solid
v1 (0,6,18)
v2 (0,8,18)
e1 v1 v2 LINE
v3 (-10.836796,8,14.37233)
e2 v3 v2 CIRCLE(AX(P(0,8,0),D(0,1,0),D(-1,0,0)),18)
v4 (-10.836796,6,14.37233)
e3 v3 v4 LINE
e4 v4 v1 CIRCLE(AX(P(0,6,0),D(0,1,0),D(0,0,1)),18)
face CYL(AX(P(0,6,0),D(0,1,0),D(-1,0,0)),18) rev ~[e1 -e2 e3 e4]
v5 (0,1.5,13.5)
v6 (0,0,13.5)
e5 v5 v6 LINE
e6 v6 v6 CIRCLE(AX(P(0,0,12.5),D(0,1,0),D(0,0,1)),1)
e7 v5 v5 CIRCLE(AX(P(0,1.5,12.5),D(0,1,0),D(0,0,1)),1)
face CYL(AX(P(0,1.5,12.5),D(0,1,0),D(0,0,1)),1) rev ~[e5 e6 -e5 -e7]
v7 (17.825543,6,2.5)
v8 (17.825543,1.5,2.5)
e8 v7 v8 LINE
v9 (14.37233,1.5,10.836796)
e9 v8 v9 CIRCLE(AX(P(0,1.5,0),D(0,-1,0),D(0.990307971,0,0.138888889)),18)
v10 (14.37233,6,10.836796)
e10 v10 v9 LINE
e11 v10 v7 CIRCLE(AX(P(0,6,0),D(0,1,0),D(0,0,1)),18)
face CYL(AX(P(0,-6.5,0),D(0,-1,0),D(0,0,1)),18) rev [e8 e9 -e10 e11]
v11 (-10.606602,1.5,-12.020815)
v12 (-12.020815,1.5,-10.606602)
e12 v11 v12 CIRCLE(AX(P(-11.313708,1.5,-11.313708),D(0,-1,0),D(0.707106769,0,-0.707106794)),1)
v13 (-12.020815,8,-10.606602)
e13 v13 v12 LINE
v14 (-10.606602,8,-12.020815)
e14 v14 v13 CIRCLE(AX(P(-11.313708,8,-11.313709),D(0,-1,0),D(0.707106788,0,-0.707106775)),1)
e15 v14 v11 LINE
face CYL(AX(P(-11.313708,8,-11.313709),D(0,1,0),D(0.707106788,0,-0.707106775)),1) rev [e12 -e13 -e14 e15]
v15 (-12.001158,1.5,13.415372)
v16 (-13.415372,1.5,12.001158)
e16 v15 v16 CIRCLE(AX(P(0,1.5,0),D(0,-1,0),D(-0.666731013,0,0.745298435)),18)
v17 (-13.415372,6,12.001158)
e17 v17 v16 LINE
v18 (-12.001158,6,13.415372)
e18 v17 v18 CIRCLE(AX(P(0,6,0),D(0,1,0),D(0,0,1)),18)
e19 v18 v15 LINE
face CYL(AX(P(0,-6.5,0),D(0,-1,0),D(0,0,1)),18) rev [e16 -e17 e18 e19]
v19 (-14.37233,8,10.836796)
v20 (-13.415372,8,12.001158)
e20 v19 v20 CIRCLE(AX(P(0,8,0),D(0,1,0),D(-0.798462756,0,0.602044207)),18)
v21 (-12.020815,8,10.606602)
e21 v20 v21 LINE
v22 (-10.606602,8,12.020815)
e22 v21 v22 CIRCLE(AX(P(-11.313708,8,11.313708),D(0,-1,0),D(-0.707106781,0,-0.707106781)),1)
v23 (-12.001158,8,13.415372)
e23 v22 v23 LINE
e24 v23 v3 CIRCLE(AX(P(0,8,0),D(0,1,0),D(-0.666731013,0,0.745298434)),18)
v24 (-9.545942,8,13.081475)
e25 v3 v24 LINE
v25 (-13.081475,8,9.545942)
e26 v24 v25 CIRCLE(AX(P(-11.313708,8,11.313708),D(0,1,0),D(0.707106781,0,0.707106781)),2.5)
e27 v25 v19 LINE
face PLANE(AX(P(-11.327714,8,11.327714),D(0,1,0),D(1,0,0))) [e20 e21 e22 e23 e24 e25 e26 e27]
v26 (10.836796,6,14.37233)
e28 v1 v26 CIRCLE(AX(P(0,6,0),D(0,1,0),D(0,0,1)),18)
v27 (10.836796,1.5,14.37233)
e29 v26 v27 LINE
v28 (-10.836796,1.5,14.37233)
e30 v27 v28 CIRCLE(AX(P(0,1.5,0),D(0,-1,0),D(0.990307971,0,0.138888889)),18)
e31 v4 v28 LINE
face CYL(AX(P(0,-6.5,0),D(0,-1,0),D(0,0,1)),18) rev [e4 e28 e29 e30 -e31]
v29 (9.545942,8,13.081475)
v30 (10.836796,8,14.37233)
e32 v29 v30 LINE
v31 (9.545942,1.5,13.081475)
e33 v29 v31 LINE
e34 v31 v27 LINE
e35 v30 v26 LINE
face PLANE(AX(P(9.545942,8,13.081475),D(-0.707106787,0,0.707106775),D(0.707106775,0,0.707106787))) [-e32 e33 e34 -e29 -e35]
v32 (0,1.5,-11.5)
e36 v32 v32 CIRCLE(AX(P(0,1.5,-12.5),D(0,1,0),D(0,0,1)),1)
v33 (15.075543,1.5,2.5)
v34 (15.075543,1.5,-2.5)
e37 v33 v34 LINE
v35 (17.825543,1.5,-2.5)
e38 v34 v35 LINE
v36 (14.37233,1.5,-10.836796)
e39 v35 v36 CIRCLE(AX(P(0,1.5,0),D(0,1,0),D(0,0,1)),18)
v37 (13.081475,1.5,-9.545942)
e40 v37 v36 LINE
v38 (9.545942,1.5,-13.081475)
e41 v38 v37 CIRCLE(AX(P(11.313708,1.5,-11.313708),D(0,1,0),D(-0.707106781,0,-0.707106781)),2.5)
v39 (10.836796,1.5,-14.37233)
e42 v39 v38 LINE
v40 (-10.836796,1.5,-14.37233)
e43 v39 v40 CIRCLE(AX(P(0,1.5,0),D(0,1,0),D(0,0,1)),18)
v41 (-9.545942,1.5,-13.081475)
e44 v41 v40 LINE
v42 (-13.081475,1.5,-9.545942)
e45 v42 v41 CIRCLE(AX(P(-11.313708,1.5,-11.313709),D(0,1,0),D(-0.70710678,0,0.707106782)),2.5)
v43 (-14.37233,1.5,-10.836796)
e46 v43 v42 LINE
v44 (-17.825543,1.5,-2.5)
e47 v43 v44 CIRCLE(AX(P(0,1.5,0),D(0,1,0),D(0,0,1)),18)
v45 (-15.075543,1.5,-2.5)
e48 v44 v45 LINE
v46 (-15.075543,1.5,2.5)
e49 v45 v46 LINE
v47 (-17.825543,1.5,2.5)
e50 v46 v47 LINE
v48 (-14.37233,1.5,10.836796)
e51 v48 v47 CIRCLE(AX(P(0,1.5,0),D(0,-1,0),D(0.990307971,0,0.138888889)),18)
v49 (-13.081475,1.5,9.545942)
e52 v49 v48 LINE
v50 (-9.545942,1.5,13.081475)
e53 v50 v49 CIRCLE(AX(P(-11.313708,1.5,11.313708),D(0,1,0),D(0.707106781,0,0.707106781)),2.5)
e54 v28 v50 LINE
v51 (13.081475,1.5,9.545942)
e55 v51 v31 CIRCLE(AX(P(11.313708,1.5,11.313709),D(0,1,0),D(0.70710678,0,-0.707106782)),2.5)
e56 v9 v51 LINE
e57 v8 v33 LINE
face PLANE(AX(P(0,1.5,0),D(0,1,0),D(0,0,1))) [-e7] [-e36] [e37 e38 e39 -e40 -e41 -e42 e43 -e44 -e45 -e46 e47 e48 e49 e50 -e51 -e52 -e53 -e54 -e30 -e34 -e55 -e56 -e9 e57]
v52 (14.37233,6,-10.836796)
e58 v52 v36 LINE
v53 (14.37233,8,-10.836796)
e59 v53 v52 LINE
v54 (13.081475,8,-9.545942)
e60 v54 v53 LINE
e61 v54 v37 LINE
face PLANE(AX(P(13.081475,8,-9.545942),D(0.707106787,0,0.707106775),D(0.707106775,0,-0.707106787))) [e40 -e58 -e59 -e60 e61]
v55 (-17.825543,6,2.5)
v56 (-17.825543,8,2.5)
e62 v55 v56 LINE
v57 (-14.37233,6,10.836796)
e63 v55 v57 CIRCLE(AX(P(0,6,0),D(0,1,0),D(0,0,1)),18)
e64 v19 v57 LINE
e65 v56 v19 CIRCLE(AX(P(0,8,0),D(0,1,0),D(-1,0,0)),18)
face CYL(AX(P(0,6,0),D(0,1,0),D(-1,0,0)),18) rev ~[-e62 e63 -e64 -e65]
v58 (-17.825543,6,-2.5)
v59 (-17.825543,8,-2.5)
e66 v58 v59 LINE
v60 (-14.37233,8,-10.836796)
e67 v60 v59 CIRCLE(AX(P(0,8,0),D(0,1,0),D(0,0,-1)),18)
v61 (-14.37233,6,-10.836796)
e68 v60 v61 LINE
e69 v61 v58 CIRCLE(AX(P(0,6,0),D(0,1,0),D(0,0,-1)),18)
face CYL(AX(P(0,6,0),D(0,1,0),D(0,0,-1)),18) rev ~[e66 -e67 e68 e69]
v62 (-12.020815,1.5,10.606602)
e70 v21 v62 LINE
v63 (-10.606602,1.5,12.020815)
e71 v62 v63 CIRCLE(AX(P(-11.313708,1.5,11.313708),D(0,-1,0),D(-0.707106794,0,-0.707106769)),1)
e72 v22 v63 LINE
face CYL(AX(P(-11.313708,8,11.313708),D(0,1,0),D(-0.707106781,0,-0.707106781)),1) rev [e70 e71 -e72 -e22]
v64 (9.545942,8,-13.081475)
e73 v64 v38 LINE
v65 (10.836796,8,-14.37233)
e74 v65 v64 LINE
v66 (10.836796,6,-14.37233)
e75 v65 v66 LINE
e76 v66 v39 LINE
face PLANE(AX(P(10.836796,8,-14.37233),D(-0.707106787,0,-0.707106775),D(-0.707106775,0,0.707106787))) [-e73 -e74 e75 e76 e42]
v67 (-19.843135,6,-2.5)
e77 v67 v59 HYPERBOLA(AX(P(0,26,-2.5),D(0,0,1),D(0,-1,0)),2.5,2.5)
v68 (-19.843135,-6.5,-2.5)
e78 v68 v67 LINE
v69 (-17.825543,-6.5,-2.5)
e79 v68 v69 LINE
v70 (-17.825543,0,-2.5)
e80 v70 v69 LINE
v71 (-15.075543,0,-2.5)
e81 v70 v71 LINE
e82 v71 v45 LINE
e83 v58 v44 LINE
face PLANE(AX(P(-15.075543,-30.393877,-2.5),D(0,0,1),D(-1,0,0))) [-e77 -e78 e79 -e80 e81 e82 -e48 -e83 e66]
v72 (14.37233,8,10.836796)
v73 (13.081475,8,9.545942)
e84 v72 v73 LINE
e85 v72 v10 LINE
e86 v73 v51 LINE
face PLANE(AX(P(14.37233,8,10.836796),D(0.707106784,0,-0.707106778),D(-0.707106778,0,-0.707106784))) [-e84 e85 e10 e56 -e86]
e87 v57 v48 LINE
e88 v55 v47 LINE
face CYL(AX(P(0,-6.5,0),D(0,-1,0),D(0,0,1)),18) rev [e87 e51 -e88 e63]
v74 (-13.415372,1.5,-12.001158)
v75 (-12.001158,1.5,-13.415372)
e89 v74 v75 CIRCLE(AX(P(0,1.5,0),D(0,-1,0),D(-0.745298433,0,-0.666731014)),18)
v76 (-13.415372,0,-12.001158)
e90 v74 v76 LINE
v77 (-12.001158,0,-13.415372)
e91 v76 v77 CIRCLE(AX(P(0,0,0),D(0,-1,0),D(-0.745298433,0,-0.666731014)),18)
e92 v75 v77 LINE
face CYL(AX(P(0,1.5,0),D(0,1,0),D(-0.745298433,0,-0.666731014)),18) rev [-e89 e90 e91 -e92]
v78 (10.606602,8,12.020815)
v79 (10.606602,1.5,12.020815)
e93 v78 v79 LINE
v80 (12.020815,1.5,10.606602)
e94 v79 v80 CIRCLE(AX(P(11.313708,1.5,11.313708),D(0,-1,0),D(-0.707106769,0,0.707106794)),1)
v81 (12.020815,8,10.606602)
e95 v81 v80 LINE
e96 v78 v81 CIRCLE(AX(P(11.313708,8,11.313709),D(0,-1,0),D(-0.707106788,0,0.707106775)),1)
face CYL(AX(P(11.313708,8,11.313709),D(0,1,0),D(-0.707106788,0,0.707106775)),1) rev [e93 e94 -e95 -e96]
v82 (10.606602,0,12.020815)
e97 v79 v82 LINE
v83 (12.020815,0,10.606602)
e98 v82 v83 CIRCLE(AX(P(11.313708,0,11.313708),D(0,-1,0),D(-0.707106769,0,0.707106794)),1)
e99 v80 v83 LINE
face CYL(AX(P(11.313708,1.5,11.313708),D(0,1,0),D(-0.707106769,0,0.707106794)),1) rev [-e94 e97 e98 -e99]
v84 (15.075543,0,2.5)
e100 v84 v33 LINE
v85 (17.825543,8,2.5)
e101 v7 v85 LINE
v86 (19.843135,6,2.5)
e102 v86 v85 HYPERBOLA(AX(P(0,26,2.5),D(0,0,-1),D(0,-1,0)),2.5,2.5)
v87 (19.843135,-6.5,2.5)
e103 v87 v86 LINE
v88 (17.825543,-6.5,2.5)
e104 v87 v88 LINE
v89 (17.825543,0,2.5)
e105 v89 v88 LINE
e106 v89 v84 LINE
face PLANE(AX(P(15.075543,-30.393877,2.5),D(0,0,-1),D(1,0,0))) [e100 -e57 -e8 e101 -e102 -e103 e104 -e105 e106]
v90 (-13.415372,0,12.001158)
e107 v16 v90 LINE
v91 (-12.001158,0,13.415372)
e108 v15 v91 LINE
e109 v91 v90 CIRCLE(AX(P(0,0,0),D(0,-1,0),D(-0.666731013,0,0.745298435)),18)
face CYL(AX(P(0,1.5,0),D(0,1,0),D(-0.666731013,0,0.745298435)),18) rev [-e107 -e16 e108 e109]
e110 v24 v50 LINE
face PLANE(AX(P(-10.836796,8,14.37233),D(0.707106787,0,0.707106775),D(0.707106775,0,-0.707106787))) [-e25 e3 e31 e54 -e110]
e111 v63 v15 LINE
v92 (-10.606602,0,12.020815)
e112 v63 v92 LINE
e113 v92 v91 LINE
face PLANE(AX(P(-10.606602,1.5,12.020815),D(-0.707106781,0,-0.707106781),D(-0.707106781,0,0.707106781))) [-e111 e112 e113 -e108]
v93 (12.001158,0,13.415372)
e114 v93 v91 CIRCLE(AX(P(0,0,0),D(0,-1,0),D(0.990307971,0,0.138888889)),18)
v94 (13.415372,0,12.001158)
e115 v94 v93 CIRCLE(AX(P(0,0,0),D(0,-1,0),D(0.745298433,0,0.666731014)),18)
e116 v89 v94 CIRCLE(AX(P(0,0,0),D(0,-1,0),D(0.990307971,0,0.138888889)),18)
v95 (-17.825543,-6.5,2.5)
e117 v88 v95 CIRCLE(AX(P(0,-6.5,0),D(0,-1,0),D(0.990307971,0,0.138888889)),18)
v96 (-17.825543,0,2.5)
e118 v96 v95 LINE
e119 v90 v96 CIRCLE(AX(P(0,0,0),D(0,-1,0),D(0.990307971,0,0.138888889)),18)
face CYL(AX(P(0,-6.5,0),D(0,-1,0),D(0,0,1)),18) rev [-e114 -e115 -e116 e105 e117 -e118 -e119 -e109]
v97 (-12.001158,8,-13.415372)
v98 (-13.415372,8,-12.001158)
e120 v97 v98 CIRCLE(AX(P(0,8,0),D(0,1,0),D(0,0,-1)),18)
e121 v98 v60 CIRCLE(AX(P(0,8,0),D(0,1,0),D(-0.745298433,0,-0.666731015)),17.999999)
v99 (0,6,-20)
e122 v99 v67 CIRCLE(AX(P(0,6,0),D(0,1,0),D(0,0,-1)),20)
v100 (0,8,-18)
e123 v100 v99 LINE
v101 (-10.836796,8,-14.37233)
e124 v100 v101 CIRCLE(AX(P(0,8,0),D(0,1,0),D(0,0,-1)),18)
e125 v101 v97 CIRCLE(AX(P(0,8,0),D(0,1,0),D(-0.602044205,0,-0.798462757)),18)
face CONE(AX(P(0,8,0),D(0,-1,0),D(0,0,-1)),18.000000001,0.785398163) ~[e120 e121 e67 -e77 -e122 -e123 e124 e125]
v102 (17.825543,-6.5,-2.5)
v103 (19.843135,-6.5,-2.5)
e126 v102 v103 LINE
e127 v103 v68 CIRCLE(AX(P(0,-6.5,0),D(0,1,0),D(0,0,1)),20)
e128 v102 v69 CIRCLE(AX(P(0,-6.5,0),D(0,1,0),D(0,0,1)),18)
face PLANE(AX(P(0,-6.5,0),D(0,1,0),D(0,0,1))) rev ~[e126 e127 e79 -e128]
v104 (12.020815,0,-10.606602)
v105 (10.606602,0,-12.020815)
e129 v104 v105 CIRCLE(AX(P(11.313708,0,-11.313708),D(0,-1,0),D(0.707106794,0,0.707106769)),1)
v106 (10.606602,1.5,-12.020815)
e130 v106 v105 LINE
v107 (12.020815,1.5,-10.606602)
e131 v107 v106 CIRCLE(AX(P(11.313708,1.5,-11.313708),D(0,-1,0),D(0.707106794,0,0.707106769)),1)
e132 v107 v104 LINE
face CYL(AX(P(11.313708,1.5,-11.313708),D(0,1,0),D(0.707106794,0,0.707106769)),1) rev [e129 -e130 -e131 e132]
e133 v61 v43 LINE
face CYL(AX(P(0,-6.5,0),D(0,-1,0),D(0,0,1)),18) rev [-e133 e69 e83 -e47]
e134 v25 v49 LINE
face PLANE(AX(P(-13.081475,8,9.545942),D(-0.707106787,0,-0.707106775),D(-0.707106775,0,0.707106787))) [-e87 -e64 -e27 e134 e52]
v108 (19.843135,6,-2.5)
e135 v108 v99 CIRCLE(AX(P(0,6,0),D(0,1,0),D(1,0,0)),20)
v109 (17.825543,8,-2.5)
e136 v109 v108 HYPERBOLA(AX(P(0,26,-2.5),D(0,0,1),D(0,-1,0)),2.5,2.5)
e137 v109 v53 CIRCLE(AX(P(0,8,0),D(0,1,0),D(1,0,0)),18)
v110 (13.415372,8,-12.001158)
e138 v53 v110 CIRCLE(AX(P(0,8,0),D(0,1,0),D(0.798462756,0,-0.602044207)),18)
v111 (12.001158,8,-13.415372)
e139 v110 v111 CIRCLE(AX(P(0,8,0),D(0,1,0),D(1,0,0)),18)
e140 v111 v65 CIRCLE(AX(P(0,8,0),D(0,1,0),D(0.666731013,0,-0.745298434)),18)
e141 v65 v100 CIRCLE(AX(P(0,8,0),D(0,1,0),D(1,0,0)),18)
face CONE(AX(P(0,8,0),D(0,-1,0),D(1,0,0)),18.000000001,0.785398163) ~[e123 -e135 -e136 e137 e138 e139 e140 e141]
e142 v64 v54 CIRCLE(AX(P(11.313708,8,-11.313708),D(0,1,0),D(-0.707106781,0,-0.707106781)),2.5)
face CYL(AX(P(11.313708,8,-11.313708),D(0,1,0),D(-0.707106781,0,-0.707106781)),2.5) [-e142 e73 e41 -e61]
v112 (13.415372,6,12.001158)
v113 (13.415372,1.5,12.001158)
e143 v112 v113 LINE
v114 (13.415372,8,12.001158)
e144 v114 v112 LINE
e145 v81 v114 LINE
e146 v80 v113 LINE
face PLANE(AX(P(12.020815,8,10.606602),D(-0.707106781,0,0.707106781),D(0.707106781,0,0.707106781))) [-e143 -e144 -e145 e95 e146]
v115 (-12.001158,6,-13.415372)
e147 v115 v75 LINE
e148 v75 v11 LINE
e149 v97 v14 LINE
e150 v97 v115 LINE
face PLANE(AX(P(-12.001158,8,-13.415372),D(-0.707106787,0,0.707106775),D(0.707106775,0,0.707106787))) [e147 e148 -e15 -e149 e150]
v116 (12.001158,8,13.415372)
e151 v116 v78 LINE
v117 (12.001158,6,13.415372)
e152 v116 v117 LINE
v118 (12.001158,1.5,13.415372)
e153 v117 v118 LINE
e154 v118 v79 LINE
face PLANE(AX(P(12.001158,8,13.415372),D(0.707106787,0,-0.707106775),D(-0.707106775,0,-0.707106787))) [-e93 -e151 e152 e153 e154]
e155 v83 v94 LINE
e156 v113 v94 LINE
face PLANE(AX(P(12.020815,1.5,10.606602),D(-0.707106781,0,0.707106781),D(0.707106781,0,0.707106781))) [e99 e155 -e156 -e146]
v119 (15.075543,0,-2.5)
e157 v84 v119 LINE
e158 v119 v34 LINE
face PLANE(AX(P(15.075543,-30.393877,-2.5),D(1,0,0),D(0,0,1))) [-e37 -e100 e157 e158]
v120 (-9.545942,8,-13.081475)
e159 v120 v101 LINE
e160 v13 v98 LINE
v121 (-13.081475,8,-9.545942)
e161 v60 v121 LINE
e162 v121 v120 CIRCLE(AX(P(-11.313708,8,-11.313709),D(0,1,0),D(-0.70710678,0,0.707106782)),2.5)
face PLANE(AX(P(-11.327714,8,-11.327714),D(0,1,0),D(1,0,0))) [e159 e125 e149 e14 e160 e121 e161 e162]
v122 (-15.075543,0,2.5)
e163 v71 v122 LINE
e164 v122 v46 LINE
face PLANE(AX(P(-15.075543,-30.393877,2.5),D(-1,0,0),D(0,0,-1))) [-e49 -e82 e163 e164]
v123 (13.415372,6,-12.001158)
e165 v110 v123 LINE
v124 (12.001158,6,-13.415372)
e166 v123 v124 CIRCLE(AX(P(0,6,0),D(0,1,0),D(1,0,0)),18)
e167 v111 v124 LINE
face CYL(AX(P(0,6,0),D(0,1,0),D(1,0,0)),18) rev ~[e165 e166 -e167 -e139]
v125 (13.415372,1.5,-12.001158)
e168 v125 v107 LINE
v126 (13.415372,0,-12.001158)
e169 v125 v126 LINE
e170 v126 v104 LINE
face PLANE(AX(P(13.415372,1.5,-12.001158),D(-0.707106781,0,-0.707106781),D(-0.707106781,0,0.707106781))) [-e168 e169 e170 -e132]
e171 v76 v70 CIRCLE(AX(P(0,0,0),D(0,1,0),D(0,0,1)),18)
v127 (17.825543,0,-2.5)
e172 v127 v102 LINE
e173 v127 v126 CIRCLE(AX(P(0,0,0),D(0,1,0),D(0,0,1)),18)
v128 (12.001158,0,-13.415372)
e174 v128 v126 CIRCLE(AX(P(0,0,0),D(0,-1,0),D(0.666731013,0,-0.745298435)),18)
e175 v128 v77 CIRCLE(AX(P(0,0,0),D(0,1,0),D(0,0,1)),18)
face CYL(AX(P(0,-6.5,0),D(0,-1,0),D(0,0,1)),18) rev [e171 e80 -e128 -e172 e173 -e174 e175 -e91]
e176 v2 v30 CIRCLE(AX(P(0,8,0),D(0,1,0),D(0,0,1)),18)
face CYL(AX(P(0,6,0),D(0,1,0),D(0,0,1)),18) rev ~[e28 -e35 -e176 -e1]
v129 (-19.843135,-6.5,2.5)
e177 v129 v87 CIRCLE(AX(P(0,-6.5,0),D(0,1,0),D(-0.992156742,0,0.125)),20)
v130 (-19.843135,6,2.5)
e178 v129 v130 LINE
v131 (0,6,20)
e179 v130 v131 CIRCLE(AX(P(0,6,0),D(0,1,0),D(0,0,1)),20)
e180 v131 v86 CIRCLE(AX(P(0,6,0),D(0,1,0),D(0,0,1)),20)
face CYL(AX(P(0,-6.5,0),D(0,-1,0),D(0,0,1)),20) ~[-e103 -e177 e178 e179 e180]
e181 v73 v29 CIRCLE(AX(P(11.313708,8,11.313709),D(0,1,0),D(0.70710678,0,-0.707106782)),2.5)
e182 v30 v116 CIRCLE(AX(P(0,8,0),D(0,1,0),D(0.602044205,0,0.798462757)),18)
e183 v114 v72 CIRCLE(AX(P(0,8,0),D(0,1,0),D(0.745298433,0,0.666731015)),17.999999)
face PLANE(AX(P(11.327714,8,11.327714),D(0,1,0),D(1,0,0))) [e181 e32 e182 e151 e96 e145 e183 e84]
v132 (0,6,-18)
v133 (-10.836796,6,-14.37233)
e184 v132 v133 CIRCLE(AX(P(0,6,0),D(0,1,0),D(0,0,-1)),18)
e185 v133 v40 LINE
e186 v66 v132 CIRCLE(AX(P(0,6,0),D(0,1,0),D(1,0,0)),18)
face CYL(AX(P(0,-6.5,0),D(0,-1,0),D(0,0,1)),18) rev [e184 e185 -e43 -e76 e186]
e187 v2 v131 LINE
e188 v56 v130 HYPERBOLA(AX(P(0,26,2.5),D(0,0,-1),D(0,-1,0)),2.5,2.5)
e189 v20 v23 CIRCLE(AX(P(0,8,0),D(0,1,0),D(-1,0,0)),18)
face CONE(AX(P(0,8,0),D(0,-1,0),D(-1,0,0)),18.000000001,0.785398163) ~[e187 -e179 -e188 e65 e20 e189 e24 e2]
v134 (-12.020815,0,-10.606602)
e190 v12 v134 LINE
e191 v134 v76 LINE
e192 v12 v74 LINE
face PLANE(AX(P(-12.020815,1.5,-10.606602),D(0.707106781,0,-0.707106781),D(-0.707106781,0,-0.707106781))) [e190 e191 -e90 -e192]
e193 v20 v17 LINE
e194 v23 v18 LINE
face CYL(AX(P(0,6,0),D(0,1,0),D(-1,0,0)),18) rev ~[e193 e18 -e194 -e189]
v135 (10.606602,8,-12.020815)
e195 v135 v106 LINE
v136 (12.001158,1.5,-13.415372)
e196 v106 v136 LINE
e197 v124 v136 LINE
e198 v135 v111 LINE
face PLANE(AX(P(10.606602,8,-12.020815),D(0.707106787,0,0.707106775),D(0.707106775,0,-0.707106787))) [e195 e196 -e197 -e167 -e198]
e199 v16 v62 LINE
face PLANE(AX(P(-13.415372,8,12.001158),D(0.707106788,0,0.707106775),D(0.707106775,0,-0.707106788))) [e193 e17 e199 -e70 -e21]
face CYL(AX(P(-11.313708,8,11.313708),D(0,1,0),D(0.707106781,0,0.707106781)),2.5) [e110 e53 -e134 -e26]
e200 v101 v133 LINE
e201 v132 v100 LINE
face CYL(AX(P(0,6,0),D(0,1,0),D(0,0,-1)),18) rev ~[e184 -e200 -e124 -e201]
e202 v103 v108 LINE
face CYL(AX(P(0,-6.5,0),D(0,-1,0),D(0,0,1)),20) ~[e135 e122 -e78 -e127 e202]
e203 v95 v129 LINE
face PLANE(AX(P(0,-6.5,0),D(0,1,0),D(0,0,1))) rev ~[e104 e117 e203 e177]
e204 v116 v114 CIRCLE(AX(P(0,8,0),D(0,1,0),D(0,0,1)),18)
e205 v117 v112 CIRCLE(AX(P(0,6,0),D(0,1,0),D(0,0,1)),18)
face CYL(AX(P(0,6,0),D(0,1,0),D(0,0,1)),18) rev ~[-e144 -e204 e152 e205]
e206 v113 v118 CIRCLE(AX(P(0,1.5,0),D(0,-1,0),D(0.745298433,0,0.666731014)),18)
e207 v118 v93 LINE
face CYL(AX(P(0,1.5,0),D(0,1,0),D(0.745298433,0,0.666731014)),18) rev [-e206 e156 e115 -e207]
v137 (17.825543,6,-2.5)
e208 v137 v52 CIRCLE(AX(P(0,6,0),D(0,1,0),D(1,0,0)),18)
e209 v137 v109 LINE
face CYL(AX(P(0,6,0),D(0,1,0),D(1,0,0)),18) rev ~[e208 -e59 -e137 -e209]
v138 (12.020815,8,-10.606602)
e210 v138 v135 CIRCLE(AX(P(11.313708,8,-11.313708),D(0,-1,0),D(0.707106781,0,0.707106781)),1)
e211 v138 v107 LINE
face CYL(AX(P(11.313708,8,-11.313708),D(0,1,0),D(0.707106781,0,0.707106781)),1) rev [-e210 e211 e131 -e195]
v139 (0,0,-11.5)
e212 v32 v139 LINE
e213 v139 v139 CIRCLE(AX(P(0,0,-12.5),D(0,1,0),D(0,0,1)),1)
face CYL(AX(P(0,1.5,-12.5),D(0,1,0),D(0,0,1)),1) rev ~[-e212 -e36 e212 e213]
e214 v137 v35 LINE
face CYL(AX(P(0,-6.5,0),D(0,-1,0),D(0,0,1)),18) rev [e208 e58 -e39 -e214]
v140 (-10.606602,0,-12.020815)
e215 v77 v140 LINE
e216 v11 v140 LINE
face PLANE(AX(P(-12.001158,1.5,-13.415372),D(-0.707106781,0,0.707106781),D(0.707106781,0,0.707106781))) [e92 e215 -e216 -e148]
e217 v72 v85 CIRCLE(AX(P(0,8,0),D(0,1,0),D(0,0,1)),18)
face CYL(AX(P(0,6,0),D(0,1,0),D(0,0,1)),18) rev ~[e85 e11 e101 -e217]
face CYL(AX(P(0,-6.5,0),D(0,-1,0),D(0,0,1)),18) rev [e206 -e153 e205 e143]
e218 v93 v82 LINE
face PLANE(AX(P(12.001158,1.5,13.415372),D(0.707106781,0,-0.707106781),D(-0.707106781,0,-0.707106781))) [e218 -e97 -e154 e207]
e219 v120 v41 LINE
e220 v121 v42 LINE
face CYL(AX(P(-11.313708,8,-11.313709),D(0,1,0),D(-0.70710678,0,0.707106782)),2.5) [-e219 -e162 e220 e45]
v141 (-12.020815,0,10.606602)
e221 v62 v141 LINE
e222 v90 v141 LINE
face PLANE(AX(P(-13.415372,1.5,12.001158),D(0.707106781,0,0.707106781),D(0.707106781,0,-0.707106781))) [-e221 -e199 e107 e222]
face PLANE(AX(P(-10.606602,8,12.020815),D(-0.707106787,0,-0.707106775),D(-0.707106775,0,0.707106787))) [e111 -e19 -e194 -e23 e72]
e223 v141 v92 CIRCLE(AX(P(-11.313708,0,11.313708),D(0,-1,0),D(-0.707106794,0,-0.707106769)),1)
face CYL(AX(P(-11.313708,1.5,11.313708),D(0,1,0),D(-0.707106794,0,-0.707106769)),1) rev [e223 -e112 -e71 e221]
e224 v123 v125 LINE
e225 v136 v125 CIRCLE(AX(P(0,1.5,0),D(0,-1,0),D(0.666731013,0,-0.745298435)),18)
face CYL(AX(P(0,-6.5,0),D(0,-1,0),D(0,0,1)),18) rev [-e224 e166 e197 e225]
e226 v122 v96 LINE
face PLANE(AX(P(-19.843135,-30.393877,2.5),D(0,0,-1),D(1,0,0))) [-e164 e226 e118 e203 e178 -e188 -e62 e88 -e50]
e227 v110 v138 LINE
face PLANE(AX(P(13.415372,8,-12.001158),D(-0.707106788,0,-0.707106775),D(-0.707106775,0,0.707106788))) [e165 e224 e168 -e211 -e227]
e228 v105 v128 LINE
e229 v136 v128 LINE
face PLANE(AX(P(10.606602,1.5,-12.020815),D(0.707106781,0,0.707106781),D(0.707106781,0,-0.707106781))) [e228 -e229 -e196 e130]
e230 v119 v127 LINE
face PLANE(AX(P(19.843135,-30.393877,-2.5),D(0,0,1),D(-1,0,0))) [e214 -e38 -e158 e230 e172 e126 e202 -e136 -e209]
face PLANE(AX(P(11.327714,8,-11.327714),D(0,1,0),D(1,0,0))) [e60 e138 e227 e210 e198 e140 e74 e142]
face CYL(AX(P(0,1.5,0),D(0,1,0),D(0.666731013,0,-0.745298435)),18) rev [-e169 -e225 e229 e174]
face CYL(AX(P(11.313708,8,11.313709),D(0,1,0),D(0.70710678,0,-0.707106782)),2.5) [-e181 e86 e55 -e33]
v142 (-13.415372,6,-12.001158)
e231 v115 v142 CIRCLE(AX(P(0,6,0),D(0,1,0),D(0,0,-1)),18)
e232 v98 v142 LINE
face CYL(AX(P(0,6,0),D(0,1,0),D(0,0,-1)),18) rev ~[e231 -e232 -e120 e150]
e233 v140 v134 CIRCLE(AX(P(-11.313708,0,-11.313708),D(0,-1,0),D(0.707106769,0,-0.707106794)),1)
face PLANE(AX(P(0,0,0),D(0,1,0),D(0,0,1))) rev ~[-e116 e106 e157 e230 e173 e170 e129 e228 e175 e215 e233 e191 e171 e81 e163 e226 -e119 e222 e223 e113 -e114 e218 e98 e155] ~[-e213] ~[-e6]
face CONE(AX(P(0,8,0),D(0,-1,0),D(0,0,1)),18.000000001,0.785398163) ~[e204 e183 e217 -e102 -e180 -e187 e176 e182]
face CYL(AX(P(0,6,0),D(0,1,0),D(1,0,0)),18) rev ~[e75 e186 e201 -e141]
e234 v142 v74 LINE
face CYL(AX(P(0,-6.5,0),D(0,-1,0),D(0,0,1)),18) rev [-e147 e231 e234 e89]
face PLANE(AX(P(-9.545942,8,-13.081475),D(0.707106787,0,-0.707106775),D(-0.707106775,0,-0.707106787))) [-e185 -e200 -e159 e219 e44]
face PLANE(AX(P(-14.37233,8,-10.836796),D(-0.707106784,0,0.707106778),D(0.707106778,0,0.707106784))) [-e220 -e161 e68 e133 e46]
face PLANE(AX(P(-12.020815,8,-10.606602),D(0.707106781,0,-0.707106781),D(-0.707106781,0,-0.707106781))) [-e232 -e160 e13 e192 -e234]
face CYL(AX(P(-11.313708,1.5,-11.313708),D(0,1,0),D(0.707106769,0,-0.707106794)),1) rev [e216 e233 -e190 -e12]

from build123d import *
from build123d.topology import SkipClean

# Parameters (mm, degrees)
SKETCH_1_R               = 18
EXTRUDE_1_DEPTH          = 1.5
EXTRUDE_2_DEPTH          = 6
EXTRUDE_2_DEPTH_BACK     = 6.5
SKETCH_2_R               = 20
SKETCH_2_R_2             = 18
CUT_EXTRUDE_START        = 1.5
SKETCH_6_R               = 1
CUT_EXTRUDE_4_DEPTH      = 8
CUT_EXTRUDE_5_DEPTH      = 30.393876913
CUT_EXTRUDE_5_DEPTH_BACK = 30.393876913
CUT_EXTRUDE_6_DEPTH      = 1.5
EXTRUDE_START            = 8
EXTRUDE_3_DEPTH          = 6.5


with BuildPart() as part:
    # 草图1 → 凸台-拉伸1 (new body)
    with BuildSketch(Plane(origin=(0, 0, 0), x_dir=(1, 0, 0), z_dir=(0, 1, 0))):
        with Locations(Location((0, 0, 0), (0, 0, 270))):
            Circle(SKETCH_1_R)
    extrude(amount=EXTRUDE_1_DEPTH)

    # 草图2 → 凸台-拉伸2 (add, two sides: drawn at the far end of the back side and taken through both)
    with BuildSketch(Plane(origin=(0, 0, 0), x_dir=(1, 0, 0), z_dir=(0, 1, 0)).offset(-EXTRUDE_2_DEPTH_BACK)):
        with Locations(Location((0, 0, 0), (0, 0, 270))):
            Circle(SKETCH_2_R)
        with Locations(Location((0, 0, 0), (0, 0, 270))):
            Circle(SKETCH_2_R_2, mode=Mode.SUBTRACT)
    extrude(amount=EXTRUDE_2_DEPTH + EXTRUDE_2_DEPTH_BACK)

    # 扫描2: sweep along a curve in space
    with SkipClean():  # the faces are left unmerged after this step: merging them gives an invalid solid
        with BuildLine() as sweep_2_path:
            ThreePointArc((0, 6, 18), (12.727922061, 6, 12.727922061), (18, 6, 0))
            ThreePointArc((18, 6, 0), (12.727922061, 6, -12.727922061), (0, 6, -18))
            ThreePointArc((0, 6, -18), (-12.727922061, 6, -12.727922061), (-18, 6, 0))
            ThreePointArc((-18, 6, 0), (-12.727922061, 6, 12.727922061), (0, 6, 18))
        # 草图5 → 扫描2 (sweep)
        with BuildSketch(Plane.XY):
            Polygon((-20, 6), (-18, 6), (-18, 8), align=None)
        sweep(path=sweep_2_path.line)

    # 草图6 → 切除-拉伸4 (cut)
    with SkipClean():  # the faces are left unmerged after this step: merging them gives an invalid solid
        with BuildSketch(Plane(origin=(0, 0, 0), x_dir=(1, 0, 0), z_dir=(0, 1, 0)).offset(CUT_EXTRUDE_START)):
            with Locations(Location((0, -12.5, 0), (0, 0, 270))):
                Circle(SKETCH_6_R)
            with Locations(Location((0, 12.5, 0), (0, 0, 270))):
                Circle(SKETCH_6_R)
        extrude(amount=-CUT_EXTRUDE_4_DEPTH, mode=Mode.SUBTRACT)

    # 草图7 → 切除-拉伸5 (cut, two sides: drawn at the far end of the back side and taken through both)
    with BuildSketch(Plane(origin=(0, 0, 0), x_dir=(1, 0, 0), z_dir=(0, 1, 0)).offset(-CUT_EXTRUDE_5_DEPTH_BACK)):
        with BuildLine():
            Line((-19.843134833, -2.5), (-15.07554347, -2.5))
            Line((-15.07554347, -2.5), (-15.07554347, 2.5))
            Line((-15.07554347, 2.5), (-19.843134833, 2.5))
            ThreePointArc((-19.843134833, 2.5), (-20, 0), (-19.843134833, -2.5))
        make_face()
        with BuildLine():
            Line((15.07554347, 2.5), (15.07554347, -2.5))
            Line((15.07554347, -2.5), (19.843134833, -2.5))
            ThreePointArc((19.843134833, -2.5), (20, 0), (19.843134833, 2.5))
            Line((19.843134833, 2.5), (15.07554347, 2.5))
        make_face()
    extrude(amount=CUT_EXTRUDE_5_DEPTH + CUT_EXTRUDE_5_DEPTH_BACK, mode=Mode.SUBTRACT)

    # 草图8 → 切除-拉伸6 (cut)
    with SkipClean():  # the faces are left unmerged after this step: merging them gives an invalid solid
        with BuildSketch(Plane(origin=(0, 0, 0), x_dir=(1, 0, 0), z_dir=(0, 1, 0)).offset(CUT_EXTRUDE_START)):
            with BuildLine():
                Line((10.606601706, 12.020815293), (12.001158233, 13.41537182))
                ThreePointArc((12.001158233, 13.41537182), (12.727922049, 12.727922074), (13.415371797, 12.001158259))
                Line((13.415371797, 12.001158259), (12.020815268, 10.606601731))
                ThreePointArc((12.020815268, 10.606601731), (10.606601706, 10.606601706), (10.606601706, 12.020815293))
            make_face()
            with BuildLine():
                Line((12.020815268, -10.606601731), (13.415371797, -12.001158259))
                ThreePointArc((13.415371797, -12.001158259), (12.727922049, -12.727922074), (12.001158233, -13.41537182))
                Line((12.001158233, -13.41537182), (10.606601706, -12.020815293))
                ThreePointArc((10.606601706, -12.020815293), (10.606601706, -10.606601706), (12.020815268, -10.606601731))
            make_face()
            with BuildLine():
                Line((-10.606601706, -12.020815293), (-12.001158233, -13.41537182))
                ThreePointArc((-12.001158233, -13.41537182), (-12.727922049, -12.727922074), (-13.415371797, -12.001158259))
                Line((-13.415371797, -12.001158259), (-12.020815268, -10.606601731))
                ThreePointArc((-12.020815268, -10.606601731), (-10.606601706, -10.606601706), (-10.606601706, -12.020815293))
            make_face()
            with BuildLine():
                Line((-12.020815268, 10.606601731), (-13.415371797, 12.001158259))
                ThreePointArc((-13.415371797, 12.001158259), (-12.727922049, 12.727922074), (-12.001158233, 13.41537182))
                Line((-12.001158233, 13.41537182), (-10.606601706, 12.020815293))
                ThreePointArc((-10.606601706, 12.020815293), (-10.606601706, 10.606601706), (-12.020815268, 10.606601731))
            make_face()
        extrude(amount=-CUT_EXTRUDE_6_DEPTH, mode=Mode.SUBTRACT)

    # 草图9 → 凸台-拉伸3 (add)
    with SkipClean():  # the faces are left unmerged after this step: merging them gives an invalid solid
        with BuildSketch(Plane(origin=(0, 0, 0), x_dir=(1, 0, 0), z_dir=(0, 1, 0)).offset(EXTRUDE_START)):
            with BuildLine():
                Line((12.020815268, -10.606601731), (13.415371797, -12.001158259))
                ThreePointArc((13.415371797, -12.001158259), (13.906042657, -11.428997228), (14.372329608, -10.836795727))
                Line((14.372329608, -10.836795727), (13.081475446, -9.545941553))
                ThreePointArc((13.081475446, -9.545941553), (9.545941558, -9.545941548), (9.545941537, -13.081475443))
                Line((9.545941537, -13.081475443), (10.8367957, -14.372329629))
                ThreePointArc((10.8367957, -14.372329629), (11.428997201, -13.906042679), (12.001158233, -13.41537182))
                Line((12.001158233, -13.41537182), (10.606601718, -12.020815281))
                ThreePointArc((10.606601718, -12.020815281), (10.606601731, -10.606601731), (12.020815268, -10.606601731))
            make_face()
            with BuildLine():
                Line((-10.606601718, -12.020815281), (-12.001158233, -13.41537182))
                ThreePointArc((-12.001158233, -13.41537182), (-11.428997201, -13.906042679), (-10.8367957, -14.372329629))
                Line((-10.8367957, -14.372329629), (-9.545941547, -13.081475453))
                ThreePointArc((-9.545941547, -13.081475453), (-9.545941551, -9.545941542), (-13.081475462, -9.545941556))
                Line((-13.081475462, -9.545941556), (-14.372329609, -10.836795726))
                ThreePointArc((-14.372329609, -10.836795726), (-13.906042657, -11.428997227), (-13.415371797, -12.001158259))
                Line((-13.415371797, -12.001158259), (-12.020815281, -10.606601718))
                ThreePointArc((-12.020815281, -10.606601718), (-10.606601718, -10.606601718), (-10.606601718, -12.020815281))
            make_face()
            with BuildLine():
                Line((10.606601718, 12.020815281), (12.001158233, 13.41537182))
                ThreePointArc((12.001158233, 13.41537182), (11.428997201, 13.906042679), (10.8367957, 14.372329629))
                Line((10.8367957, 14.372329629), (9.545941547, 13.081475453))
                ThreePointArc((9.545941547, 13.081475453), (9.545941551, 9.545941542), (13.081475462, 9.545941556))
                Line((13.081475462, 9.545941556), (14.372329609, 10.836795726))
                ThreePointArc((14.372329609, 10.836795726), (13.906042657, 11.428997227), (13.415371797, 12.001158259))
                Line((13.415371797, 12.001158259), (12.020815281, 10.606601718))
                ThreePointArc((12.020815281, 10.606601718), (10.606601718, 10.606601718), (10.606601718, 12.020815281))
            make_face()
            with BuildLine():
                Line((-12.020815268, 10.606601731), (-13.415371797, 12.001158259))
                ThreePointArc((-13.415371797, 12.001158259), (-13.906042657, 11.428997228), (-14.372329608, 10.836795727))
                Line((-14.372329608, 10.836795727), (-13.081475446, 9.545941553))
                ThreePointArc((-13.081475446, 9.545941553), (-9.545941558, 9.545941548), (-9.545941537, 13.081475443))
                Line((-9.545941537, 13.081475443), (-10.8367957, 14.372329629))
                ThreePointArc((-10.8367957, 14.372329629), (-11.428997201, 13.906042679), (-12.001158233, 13.41537182))
                Line((-12.001158233, 13.41537182), (-10.606601718, 12.020815281))
                ThreePointArc((-10.606601718, 12.020815281), (-10.606601731, 10.606601731), (-12.020815268, 10.606601731))
            make_face()
        extrude(amount=-EXTRUDE_3_DEPTH)


solid = part.part
